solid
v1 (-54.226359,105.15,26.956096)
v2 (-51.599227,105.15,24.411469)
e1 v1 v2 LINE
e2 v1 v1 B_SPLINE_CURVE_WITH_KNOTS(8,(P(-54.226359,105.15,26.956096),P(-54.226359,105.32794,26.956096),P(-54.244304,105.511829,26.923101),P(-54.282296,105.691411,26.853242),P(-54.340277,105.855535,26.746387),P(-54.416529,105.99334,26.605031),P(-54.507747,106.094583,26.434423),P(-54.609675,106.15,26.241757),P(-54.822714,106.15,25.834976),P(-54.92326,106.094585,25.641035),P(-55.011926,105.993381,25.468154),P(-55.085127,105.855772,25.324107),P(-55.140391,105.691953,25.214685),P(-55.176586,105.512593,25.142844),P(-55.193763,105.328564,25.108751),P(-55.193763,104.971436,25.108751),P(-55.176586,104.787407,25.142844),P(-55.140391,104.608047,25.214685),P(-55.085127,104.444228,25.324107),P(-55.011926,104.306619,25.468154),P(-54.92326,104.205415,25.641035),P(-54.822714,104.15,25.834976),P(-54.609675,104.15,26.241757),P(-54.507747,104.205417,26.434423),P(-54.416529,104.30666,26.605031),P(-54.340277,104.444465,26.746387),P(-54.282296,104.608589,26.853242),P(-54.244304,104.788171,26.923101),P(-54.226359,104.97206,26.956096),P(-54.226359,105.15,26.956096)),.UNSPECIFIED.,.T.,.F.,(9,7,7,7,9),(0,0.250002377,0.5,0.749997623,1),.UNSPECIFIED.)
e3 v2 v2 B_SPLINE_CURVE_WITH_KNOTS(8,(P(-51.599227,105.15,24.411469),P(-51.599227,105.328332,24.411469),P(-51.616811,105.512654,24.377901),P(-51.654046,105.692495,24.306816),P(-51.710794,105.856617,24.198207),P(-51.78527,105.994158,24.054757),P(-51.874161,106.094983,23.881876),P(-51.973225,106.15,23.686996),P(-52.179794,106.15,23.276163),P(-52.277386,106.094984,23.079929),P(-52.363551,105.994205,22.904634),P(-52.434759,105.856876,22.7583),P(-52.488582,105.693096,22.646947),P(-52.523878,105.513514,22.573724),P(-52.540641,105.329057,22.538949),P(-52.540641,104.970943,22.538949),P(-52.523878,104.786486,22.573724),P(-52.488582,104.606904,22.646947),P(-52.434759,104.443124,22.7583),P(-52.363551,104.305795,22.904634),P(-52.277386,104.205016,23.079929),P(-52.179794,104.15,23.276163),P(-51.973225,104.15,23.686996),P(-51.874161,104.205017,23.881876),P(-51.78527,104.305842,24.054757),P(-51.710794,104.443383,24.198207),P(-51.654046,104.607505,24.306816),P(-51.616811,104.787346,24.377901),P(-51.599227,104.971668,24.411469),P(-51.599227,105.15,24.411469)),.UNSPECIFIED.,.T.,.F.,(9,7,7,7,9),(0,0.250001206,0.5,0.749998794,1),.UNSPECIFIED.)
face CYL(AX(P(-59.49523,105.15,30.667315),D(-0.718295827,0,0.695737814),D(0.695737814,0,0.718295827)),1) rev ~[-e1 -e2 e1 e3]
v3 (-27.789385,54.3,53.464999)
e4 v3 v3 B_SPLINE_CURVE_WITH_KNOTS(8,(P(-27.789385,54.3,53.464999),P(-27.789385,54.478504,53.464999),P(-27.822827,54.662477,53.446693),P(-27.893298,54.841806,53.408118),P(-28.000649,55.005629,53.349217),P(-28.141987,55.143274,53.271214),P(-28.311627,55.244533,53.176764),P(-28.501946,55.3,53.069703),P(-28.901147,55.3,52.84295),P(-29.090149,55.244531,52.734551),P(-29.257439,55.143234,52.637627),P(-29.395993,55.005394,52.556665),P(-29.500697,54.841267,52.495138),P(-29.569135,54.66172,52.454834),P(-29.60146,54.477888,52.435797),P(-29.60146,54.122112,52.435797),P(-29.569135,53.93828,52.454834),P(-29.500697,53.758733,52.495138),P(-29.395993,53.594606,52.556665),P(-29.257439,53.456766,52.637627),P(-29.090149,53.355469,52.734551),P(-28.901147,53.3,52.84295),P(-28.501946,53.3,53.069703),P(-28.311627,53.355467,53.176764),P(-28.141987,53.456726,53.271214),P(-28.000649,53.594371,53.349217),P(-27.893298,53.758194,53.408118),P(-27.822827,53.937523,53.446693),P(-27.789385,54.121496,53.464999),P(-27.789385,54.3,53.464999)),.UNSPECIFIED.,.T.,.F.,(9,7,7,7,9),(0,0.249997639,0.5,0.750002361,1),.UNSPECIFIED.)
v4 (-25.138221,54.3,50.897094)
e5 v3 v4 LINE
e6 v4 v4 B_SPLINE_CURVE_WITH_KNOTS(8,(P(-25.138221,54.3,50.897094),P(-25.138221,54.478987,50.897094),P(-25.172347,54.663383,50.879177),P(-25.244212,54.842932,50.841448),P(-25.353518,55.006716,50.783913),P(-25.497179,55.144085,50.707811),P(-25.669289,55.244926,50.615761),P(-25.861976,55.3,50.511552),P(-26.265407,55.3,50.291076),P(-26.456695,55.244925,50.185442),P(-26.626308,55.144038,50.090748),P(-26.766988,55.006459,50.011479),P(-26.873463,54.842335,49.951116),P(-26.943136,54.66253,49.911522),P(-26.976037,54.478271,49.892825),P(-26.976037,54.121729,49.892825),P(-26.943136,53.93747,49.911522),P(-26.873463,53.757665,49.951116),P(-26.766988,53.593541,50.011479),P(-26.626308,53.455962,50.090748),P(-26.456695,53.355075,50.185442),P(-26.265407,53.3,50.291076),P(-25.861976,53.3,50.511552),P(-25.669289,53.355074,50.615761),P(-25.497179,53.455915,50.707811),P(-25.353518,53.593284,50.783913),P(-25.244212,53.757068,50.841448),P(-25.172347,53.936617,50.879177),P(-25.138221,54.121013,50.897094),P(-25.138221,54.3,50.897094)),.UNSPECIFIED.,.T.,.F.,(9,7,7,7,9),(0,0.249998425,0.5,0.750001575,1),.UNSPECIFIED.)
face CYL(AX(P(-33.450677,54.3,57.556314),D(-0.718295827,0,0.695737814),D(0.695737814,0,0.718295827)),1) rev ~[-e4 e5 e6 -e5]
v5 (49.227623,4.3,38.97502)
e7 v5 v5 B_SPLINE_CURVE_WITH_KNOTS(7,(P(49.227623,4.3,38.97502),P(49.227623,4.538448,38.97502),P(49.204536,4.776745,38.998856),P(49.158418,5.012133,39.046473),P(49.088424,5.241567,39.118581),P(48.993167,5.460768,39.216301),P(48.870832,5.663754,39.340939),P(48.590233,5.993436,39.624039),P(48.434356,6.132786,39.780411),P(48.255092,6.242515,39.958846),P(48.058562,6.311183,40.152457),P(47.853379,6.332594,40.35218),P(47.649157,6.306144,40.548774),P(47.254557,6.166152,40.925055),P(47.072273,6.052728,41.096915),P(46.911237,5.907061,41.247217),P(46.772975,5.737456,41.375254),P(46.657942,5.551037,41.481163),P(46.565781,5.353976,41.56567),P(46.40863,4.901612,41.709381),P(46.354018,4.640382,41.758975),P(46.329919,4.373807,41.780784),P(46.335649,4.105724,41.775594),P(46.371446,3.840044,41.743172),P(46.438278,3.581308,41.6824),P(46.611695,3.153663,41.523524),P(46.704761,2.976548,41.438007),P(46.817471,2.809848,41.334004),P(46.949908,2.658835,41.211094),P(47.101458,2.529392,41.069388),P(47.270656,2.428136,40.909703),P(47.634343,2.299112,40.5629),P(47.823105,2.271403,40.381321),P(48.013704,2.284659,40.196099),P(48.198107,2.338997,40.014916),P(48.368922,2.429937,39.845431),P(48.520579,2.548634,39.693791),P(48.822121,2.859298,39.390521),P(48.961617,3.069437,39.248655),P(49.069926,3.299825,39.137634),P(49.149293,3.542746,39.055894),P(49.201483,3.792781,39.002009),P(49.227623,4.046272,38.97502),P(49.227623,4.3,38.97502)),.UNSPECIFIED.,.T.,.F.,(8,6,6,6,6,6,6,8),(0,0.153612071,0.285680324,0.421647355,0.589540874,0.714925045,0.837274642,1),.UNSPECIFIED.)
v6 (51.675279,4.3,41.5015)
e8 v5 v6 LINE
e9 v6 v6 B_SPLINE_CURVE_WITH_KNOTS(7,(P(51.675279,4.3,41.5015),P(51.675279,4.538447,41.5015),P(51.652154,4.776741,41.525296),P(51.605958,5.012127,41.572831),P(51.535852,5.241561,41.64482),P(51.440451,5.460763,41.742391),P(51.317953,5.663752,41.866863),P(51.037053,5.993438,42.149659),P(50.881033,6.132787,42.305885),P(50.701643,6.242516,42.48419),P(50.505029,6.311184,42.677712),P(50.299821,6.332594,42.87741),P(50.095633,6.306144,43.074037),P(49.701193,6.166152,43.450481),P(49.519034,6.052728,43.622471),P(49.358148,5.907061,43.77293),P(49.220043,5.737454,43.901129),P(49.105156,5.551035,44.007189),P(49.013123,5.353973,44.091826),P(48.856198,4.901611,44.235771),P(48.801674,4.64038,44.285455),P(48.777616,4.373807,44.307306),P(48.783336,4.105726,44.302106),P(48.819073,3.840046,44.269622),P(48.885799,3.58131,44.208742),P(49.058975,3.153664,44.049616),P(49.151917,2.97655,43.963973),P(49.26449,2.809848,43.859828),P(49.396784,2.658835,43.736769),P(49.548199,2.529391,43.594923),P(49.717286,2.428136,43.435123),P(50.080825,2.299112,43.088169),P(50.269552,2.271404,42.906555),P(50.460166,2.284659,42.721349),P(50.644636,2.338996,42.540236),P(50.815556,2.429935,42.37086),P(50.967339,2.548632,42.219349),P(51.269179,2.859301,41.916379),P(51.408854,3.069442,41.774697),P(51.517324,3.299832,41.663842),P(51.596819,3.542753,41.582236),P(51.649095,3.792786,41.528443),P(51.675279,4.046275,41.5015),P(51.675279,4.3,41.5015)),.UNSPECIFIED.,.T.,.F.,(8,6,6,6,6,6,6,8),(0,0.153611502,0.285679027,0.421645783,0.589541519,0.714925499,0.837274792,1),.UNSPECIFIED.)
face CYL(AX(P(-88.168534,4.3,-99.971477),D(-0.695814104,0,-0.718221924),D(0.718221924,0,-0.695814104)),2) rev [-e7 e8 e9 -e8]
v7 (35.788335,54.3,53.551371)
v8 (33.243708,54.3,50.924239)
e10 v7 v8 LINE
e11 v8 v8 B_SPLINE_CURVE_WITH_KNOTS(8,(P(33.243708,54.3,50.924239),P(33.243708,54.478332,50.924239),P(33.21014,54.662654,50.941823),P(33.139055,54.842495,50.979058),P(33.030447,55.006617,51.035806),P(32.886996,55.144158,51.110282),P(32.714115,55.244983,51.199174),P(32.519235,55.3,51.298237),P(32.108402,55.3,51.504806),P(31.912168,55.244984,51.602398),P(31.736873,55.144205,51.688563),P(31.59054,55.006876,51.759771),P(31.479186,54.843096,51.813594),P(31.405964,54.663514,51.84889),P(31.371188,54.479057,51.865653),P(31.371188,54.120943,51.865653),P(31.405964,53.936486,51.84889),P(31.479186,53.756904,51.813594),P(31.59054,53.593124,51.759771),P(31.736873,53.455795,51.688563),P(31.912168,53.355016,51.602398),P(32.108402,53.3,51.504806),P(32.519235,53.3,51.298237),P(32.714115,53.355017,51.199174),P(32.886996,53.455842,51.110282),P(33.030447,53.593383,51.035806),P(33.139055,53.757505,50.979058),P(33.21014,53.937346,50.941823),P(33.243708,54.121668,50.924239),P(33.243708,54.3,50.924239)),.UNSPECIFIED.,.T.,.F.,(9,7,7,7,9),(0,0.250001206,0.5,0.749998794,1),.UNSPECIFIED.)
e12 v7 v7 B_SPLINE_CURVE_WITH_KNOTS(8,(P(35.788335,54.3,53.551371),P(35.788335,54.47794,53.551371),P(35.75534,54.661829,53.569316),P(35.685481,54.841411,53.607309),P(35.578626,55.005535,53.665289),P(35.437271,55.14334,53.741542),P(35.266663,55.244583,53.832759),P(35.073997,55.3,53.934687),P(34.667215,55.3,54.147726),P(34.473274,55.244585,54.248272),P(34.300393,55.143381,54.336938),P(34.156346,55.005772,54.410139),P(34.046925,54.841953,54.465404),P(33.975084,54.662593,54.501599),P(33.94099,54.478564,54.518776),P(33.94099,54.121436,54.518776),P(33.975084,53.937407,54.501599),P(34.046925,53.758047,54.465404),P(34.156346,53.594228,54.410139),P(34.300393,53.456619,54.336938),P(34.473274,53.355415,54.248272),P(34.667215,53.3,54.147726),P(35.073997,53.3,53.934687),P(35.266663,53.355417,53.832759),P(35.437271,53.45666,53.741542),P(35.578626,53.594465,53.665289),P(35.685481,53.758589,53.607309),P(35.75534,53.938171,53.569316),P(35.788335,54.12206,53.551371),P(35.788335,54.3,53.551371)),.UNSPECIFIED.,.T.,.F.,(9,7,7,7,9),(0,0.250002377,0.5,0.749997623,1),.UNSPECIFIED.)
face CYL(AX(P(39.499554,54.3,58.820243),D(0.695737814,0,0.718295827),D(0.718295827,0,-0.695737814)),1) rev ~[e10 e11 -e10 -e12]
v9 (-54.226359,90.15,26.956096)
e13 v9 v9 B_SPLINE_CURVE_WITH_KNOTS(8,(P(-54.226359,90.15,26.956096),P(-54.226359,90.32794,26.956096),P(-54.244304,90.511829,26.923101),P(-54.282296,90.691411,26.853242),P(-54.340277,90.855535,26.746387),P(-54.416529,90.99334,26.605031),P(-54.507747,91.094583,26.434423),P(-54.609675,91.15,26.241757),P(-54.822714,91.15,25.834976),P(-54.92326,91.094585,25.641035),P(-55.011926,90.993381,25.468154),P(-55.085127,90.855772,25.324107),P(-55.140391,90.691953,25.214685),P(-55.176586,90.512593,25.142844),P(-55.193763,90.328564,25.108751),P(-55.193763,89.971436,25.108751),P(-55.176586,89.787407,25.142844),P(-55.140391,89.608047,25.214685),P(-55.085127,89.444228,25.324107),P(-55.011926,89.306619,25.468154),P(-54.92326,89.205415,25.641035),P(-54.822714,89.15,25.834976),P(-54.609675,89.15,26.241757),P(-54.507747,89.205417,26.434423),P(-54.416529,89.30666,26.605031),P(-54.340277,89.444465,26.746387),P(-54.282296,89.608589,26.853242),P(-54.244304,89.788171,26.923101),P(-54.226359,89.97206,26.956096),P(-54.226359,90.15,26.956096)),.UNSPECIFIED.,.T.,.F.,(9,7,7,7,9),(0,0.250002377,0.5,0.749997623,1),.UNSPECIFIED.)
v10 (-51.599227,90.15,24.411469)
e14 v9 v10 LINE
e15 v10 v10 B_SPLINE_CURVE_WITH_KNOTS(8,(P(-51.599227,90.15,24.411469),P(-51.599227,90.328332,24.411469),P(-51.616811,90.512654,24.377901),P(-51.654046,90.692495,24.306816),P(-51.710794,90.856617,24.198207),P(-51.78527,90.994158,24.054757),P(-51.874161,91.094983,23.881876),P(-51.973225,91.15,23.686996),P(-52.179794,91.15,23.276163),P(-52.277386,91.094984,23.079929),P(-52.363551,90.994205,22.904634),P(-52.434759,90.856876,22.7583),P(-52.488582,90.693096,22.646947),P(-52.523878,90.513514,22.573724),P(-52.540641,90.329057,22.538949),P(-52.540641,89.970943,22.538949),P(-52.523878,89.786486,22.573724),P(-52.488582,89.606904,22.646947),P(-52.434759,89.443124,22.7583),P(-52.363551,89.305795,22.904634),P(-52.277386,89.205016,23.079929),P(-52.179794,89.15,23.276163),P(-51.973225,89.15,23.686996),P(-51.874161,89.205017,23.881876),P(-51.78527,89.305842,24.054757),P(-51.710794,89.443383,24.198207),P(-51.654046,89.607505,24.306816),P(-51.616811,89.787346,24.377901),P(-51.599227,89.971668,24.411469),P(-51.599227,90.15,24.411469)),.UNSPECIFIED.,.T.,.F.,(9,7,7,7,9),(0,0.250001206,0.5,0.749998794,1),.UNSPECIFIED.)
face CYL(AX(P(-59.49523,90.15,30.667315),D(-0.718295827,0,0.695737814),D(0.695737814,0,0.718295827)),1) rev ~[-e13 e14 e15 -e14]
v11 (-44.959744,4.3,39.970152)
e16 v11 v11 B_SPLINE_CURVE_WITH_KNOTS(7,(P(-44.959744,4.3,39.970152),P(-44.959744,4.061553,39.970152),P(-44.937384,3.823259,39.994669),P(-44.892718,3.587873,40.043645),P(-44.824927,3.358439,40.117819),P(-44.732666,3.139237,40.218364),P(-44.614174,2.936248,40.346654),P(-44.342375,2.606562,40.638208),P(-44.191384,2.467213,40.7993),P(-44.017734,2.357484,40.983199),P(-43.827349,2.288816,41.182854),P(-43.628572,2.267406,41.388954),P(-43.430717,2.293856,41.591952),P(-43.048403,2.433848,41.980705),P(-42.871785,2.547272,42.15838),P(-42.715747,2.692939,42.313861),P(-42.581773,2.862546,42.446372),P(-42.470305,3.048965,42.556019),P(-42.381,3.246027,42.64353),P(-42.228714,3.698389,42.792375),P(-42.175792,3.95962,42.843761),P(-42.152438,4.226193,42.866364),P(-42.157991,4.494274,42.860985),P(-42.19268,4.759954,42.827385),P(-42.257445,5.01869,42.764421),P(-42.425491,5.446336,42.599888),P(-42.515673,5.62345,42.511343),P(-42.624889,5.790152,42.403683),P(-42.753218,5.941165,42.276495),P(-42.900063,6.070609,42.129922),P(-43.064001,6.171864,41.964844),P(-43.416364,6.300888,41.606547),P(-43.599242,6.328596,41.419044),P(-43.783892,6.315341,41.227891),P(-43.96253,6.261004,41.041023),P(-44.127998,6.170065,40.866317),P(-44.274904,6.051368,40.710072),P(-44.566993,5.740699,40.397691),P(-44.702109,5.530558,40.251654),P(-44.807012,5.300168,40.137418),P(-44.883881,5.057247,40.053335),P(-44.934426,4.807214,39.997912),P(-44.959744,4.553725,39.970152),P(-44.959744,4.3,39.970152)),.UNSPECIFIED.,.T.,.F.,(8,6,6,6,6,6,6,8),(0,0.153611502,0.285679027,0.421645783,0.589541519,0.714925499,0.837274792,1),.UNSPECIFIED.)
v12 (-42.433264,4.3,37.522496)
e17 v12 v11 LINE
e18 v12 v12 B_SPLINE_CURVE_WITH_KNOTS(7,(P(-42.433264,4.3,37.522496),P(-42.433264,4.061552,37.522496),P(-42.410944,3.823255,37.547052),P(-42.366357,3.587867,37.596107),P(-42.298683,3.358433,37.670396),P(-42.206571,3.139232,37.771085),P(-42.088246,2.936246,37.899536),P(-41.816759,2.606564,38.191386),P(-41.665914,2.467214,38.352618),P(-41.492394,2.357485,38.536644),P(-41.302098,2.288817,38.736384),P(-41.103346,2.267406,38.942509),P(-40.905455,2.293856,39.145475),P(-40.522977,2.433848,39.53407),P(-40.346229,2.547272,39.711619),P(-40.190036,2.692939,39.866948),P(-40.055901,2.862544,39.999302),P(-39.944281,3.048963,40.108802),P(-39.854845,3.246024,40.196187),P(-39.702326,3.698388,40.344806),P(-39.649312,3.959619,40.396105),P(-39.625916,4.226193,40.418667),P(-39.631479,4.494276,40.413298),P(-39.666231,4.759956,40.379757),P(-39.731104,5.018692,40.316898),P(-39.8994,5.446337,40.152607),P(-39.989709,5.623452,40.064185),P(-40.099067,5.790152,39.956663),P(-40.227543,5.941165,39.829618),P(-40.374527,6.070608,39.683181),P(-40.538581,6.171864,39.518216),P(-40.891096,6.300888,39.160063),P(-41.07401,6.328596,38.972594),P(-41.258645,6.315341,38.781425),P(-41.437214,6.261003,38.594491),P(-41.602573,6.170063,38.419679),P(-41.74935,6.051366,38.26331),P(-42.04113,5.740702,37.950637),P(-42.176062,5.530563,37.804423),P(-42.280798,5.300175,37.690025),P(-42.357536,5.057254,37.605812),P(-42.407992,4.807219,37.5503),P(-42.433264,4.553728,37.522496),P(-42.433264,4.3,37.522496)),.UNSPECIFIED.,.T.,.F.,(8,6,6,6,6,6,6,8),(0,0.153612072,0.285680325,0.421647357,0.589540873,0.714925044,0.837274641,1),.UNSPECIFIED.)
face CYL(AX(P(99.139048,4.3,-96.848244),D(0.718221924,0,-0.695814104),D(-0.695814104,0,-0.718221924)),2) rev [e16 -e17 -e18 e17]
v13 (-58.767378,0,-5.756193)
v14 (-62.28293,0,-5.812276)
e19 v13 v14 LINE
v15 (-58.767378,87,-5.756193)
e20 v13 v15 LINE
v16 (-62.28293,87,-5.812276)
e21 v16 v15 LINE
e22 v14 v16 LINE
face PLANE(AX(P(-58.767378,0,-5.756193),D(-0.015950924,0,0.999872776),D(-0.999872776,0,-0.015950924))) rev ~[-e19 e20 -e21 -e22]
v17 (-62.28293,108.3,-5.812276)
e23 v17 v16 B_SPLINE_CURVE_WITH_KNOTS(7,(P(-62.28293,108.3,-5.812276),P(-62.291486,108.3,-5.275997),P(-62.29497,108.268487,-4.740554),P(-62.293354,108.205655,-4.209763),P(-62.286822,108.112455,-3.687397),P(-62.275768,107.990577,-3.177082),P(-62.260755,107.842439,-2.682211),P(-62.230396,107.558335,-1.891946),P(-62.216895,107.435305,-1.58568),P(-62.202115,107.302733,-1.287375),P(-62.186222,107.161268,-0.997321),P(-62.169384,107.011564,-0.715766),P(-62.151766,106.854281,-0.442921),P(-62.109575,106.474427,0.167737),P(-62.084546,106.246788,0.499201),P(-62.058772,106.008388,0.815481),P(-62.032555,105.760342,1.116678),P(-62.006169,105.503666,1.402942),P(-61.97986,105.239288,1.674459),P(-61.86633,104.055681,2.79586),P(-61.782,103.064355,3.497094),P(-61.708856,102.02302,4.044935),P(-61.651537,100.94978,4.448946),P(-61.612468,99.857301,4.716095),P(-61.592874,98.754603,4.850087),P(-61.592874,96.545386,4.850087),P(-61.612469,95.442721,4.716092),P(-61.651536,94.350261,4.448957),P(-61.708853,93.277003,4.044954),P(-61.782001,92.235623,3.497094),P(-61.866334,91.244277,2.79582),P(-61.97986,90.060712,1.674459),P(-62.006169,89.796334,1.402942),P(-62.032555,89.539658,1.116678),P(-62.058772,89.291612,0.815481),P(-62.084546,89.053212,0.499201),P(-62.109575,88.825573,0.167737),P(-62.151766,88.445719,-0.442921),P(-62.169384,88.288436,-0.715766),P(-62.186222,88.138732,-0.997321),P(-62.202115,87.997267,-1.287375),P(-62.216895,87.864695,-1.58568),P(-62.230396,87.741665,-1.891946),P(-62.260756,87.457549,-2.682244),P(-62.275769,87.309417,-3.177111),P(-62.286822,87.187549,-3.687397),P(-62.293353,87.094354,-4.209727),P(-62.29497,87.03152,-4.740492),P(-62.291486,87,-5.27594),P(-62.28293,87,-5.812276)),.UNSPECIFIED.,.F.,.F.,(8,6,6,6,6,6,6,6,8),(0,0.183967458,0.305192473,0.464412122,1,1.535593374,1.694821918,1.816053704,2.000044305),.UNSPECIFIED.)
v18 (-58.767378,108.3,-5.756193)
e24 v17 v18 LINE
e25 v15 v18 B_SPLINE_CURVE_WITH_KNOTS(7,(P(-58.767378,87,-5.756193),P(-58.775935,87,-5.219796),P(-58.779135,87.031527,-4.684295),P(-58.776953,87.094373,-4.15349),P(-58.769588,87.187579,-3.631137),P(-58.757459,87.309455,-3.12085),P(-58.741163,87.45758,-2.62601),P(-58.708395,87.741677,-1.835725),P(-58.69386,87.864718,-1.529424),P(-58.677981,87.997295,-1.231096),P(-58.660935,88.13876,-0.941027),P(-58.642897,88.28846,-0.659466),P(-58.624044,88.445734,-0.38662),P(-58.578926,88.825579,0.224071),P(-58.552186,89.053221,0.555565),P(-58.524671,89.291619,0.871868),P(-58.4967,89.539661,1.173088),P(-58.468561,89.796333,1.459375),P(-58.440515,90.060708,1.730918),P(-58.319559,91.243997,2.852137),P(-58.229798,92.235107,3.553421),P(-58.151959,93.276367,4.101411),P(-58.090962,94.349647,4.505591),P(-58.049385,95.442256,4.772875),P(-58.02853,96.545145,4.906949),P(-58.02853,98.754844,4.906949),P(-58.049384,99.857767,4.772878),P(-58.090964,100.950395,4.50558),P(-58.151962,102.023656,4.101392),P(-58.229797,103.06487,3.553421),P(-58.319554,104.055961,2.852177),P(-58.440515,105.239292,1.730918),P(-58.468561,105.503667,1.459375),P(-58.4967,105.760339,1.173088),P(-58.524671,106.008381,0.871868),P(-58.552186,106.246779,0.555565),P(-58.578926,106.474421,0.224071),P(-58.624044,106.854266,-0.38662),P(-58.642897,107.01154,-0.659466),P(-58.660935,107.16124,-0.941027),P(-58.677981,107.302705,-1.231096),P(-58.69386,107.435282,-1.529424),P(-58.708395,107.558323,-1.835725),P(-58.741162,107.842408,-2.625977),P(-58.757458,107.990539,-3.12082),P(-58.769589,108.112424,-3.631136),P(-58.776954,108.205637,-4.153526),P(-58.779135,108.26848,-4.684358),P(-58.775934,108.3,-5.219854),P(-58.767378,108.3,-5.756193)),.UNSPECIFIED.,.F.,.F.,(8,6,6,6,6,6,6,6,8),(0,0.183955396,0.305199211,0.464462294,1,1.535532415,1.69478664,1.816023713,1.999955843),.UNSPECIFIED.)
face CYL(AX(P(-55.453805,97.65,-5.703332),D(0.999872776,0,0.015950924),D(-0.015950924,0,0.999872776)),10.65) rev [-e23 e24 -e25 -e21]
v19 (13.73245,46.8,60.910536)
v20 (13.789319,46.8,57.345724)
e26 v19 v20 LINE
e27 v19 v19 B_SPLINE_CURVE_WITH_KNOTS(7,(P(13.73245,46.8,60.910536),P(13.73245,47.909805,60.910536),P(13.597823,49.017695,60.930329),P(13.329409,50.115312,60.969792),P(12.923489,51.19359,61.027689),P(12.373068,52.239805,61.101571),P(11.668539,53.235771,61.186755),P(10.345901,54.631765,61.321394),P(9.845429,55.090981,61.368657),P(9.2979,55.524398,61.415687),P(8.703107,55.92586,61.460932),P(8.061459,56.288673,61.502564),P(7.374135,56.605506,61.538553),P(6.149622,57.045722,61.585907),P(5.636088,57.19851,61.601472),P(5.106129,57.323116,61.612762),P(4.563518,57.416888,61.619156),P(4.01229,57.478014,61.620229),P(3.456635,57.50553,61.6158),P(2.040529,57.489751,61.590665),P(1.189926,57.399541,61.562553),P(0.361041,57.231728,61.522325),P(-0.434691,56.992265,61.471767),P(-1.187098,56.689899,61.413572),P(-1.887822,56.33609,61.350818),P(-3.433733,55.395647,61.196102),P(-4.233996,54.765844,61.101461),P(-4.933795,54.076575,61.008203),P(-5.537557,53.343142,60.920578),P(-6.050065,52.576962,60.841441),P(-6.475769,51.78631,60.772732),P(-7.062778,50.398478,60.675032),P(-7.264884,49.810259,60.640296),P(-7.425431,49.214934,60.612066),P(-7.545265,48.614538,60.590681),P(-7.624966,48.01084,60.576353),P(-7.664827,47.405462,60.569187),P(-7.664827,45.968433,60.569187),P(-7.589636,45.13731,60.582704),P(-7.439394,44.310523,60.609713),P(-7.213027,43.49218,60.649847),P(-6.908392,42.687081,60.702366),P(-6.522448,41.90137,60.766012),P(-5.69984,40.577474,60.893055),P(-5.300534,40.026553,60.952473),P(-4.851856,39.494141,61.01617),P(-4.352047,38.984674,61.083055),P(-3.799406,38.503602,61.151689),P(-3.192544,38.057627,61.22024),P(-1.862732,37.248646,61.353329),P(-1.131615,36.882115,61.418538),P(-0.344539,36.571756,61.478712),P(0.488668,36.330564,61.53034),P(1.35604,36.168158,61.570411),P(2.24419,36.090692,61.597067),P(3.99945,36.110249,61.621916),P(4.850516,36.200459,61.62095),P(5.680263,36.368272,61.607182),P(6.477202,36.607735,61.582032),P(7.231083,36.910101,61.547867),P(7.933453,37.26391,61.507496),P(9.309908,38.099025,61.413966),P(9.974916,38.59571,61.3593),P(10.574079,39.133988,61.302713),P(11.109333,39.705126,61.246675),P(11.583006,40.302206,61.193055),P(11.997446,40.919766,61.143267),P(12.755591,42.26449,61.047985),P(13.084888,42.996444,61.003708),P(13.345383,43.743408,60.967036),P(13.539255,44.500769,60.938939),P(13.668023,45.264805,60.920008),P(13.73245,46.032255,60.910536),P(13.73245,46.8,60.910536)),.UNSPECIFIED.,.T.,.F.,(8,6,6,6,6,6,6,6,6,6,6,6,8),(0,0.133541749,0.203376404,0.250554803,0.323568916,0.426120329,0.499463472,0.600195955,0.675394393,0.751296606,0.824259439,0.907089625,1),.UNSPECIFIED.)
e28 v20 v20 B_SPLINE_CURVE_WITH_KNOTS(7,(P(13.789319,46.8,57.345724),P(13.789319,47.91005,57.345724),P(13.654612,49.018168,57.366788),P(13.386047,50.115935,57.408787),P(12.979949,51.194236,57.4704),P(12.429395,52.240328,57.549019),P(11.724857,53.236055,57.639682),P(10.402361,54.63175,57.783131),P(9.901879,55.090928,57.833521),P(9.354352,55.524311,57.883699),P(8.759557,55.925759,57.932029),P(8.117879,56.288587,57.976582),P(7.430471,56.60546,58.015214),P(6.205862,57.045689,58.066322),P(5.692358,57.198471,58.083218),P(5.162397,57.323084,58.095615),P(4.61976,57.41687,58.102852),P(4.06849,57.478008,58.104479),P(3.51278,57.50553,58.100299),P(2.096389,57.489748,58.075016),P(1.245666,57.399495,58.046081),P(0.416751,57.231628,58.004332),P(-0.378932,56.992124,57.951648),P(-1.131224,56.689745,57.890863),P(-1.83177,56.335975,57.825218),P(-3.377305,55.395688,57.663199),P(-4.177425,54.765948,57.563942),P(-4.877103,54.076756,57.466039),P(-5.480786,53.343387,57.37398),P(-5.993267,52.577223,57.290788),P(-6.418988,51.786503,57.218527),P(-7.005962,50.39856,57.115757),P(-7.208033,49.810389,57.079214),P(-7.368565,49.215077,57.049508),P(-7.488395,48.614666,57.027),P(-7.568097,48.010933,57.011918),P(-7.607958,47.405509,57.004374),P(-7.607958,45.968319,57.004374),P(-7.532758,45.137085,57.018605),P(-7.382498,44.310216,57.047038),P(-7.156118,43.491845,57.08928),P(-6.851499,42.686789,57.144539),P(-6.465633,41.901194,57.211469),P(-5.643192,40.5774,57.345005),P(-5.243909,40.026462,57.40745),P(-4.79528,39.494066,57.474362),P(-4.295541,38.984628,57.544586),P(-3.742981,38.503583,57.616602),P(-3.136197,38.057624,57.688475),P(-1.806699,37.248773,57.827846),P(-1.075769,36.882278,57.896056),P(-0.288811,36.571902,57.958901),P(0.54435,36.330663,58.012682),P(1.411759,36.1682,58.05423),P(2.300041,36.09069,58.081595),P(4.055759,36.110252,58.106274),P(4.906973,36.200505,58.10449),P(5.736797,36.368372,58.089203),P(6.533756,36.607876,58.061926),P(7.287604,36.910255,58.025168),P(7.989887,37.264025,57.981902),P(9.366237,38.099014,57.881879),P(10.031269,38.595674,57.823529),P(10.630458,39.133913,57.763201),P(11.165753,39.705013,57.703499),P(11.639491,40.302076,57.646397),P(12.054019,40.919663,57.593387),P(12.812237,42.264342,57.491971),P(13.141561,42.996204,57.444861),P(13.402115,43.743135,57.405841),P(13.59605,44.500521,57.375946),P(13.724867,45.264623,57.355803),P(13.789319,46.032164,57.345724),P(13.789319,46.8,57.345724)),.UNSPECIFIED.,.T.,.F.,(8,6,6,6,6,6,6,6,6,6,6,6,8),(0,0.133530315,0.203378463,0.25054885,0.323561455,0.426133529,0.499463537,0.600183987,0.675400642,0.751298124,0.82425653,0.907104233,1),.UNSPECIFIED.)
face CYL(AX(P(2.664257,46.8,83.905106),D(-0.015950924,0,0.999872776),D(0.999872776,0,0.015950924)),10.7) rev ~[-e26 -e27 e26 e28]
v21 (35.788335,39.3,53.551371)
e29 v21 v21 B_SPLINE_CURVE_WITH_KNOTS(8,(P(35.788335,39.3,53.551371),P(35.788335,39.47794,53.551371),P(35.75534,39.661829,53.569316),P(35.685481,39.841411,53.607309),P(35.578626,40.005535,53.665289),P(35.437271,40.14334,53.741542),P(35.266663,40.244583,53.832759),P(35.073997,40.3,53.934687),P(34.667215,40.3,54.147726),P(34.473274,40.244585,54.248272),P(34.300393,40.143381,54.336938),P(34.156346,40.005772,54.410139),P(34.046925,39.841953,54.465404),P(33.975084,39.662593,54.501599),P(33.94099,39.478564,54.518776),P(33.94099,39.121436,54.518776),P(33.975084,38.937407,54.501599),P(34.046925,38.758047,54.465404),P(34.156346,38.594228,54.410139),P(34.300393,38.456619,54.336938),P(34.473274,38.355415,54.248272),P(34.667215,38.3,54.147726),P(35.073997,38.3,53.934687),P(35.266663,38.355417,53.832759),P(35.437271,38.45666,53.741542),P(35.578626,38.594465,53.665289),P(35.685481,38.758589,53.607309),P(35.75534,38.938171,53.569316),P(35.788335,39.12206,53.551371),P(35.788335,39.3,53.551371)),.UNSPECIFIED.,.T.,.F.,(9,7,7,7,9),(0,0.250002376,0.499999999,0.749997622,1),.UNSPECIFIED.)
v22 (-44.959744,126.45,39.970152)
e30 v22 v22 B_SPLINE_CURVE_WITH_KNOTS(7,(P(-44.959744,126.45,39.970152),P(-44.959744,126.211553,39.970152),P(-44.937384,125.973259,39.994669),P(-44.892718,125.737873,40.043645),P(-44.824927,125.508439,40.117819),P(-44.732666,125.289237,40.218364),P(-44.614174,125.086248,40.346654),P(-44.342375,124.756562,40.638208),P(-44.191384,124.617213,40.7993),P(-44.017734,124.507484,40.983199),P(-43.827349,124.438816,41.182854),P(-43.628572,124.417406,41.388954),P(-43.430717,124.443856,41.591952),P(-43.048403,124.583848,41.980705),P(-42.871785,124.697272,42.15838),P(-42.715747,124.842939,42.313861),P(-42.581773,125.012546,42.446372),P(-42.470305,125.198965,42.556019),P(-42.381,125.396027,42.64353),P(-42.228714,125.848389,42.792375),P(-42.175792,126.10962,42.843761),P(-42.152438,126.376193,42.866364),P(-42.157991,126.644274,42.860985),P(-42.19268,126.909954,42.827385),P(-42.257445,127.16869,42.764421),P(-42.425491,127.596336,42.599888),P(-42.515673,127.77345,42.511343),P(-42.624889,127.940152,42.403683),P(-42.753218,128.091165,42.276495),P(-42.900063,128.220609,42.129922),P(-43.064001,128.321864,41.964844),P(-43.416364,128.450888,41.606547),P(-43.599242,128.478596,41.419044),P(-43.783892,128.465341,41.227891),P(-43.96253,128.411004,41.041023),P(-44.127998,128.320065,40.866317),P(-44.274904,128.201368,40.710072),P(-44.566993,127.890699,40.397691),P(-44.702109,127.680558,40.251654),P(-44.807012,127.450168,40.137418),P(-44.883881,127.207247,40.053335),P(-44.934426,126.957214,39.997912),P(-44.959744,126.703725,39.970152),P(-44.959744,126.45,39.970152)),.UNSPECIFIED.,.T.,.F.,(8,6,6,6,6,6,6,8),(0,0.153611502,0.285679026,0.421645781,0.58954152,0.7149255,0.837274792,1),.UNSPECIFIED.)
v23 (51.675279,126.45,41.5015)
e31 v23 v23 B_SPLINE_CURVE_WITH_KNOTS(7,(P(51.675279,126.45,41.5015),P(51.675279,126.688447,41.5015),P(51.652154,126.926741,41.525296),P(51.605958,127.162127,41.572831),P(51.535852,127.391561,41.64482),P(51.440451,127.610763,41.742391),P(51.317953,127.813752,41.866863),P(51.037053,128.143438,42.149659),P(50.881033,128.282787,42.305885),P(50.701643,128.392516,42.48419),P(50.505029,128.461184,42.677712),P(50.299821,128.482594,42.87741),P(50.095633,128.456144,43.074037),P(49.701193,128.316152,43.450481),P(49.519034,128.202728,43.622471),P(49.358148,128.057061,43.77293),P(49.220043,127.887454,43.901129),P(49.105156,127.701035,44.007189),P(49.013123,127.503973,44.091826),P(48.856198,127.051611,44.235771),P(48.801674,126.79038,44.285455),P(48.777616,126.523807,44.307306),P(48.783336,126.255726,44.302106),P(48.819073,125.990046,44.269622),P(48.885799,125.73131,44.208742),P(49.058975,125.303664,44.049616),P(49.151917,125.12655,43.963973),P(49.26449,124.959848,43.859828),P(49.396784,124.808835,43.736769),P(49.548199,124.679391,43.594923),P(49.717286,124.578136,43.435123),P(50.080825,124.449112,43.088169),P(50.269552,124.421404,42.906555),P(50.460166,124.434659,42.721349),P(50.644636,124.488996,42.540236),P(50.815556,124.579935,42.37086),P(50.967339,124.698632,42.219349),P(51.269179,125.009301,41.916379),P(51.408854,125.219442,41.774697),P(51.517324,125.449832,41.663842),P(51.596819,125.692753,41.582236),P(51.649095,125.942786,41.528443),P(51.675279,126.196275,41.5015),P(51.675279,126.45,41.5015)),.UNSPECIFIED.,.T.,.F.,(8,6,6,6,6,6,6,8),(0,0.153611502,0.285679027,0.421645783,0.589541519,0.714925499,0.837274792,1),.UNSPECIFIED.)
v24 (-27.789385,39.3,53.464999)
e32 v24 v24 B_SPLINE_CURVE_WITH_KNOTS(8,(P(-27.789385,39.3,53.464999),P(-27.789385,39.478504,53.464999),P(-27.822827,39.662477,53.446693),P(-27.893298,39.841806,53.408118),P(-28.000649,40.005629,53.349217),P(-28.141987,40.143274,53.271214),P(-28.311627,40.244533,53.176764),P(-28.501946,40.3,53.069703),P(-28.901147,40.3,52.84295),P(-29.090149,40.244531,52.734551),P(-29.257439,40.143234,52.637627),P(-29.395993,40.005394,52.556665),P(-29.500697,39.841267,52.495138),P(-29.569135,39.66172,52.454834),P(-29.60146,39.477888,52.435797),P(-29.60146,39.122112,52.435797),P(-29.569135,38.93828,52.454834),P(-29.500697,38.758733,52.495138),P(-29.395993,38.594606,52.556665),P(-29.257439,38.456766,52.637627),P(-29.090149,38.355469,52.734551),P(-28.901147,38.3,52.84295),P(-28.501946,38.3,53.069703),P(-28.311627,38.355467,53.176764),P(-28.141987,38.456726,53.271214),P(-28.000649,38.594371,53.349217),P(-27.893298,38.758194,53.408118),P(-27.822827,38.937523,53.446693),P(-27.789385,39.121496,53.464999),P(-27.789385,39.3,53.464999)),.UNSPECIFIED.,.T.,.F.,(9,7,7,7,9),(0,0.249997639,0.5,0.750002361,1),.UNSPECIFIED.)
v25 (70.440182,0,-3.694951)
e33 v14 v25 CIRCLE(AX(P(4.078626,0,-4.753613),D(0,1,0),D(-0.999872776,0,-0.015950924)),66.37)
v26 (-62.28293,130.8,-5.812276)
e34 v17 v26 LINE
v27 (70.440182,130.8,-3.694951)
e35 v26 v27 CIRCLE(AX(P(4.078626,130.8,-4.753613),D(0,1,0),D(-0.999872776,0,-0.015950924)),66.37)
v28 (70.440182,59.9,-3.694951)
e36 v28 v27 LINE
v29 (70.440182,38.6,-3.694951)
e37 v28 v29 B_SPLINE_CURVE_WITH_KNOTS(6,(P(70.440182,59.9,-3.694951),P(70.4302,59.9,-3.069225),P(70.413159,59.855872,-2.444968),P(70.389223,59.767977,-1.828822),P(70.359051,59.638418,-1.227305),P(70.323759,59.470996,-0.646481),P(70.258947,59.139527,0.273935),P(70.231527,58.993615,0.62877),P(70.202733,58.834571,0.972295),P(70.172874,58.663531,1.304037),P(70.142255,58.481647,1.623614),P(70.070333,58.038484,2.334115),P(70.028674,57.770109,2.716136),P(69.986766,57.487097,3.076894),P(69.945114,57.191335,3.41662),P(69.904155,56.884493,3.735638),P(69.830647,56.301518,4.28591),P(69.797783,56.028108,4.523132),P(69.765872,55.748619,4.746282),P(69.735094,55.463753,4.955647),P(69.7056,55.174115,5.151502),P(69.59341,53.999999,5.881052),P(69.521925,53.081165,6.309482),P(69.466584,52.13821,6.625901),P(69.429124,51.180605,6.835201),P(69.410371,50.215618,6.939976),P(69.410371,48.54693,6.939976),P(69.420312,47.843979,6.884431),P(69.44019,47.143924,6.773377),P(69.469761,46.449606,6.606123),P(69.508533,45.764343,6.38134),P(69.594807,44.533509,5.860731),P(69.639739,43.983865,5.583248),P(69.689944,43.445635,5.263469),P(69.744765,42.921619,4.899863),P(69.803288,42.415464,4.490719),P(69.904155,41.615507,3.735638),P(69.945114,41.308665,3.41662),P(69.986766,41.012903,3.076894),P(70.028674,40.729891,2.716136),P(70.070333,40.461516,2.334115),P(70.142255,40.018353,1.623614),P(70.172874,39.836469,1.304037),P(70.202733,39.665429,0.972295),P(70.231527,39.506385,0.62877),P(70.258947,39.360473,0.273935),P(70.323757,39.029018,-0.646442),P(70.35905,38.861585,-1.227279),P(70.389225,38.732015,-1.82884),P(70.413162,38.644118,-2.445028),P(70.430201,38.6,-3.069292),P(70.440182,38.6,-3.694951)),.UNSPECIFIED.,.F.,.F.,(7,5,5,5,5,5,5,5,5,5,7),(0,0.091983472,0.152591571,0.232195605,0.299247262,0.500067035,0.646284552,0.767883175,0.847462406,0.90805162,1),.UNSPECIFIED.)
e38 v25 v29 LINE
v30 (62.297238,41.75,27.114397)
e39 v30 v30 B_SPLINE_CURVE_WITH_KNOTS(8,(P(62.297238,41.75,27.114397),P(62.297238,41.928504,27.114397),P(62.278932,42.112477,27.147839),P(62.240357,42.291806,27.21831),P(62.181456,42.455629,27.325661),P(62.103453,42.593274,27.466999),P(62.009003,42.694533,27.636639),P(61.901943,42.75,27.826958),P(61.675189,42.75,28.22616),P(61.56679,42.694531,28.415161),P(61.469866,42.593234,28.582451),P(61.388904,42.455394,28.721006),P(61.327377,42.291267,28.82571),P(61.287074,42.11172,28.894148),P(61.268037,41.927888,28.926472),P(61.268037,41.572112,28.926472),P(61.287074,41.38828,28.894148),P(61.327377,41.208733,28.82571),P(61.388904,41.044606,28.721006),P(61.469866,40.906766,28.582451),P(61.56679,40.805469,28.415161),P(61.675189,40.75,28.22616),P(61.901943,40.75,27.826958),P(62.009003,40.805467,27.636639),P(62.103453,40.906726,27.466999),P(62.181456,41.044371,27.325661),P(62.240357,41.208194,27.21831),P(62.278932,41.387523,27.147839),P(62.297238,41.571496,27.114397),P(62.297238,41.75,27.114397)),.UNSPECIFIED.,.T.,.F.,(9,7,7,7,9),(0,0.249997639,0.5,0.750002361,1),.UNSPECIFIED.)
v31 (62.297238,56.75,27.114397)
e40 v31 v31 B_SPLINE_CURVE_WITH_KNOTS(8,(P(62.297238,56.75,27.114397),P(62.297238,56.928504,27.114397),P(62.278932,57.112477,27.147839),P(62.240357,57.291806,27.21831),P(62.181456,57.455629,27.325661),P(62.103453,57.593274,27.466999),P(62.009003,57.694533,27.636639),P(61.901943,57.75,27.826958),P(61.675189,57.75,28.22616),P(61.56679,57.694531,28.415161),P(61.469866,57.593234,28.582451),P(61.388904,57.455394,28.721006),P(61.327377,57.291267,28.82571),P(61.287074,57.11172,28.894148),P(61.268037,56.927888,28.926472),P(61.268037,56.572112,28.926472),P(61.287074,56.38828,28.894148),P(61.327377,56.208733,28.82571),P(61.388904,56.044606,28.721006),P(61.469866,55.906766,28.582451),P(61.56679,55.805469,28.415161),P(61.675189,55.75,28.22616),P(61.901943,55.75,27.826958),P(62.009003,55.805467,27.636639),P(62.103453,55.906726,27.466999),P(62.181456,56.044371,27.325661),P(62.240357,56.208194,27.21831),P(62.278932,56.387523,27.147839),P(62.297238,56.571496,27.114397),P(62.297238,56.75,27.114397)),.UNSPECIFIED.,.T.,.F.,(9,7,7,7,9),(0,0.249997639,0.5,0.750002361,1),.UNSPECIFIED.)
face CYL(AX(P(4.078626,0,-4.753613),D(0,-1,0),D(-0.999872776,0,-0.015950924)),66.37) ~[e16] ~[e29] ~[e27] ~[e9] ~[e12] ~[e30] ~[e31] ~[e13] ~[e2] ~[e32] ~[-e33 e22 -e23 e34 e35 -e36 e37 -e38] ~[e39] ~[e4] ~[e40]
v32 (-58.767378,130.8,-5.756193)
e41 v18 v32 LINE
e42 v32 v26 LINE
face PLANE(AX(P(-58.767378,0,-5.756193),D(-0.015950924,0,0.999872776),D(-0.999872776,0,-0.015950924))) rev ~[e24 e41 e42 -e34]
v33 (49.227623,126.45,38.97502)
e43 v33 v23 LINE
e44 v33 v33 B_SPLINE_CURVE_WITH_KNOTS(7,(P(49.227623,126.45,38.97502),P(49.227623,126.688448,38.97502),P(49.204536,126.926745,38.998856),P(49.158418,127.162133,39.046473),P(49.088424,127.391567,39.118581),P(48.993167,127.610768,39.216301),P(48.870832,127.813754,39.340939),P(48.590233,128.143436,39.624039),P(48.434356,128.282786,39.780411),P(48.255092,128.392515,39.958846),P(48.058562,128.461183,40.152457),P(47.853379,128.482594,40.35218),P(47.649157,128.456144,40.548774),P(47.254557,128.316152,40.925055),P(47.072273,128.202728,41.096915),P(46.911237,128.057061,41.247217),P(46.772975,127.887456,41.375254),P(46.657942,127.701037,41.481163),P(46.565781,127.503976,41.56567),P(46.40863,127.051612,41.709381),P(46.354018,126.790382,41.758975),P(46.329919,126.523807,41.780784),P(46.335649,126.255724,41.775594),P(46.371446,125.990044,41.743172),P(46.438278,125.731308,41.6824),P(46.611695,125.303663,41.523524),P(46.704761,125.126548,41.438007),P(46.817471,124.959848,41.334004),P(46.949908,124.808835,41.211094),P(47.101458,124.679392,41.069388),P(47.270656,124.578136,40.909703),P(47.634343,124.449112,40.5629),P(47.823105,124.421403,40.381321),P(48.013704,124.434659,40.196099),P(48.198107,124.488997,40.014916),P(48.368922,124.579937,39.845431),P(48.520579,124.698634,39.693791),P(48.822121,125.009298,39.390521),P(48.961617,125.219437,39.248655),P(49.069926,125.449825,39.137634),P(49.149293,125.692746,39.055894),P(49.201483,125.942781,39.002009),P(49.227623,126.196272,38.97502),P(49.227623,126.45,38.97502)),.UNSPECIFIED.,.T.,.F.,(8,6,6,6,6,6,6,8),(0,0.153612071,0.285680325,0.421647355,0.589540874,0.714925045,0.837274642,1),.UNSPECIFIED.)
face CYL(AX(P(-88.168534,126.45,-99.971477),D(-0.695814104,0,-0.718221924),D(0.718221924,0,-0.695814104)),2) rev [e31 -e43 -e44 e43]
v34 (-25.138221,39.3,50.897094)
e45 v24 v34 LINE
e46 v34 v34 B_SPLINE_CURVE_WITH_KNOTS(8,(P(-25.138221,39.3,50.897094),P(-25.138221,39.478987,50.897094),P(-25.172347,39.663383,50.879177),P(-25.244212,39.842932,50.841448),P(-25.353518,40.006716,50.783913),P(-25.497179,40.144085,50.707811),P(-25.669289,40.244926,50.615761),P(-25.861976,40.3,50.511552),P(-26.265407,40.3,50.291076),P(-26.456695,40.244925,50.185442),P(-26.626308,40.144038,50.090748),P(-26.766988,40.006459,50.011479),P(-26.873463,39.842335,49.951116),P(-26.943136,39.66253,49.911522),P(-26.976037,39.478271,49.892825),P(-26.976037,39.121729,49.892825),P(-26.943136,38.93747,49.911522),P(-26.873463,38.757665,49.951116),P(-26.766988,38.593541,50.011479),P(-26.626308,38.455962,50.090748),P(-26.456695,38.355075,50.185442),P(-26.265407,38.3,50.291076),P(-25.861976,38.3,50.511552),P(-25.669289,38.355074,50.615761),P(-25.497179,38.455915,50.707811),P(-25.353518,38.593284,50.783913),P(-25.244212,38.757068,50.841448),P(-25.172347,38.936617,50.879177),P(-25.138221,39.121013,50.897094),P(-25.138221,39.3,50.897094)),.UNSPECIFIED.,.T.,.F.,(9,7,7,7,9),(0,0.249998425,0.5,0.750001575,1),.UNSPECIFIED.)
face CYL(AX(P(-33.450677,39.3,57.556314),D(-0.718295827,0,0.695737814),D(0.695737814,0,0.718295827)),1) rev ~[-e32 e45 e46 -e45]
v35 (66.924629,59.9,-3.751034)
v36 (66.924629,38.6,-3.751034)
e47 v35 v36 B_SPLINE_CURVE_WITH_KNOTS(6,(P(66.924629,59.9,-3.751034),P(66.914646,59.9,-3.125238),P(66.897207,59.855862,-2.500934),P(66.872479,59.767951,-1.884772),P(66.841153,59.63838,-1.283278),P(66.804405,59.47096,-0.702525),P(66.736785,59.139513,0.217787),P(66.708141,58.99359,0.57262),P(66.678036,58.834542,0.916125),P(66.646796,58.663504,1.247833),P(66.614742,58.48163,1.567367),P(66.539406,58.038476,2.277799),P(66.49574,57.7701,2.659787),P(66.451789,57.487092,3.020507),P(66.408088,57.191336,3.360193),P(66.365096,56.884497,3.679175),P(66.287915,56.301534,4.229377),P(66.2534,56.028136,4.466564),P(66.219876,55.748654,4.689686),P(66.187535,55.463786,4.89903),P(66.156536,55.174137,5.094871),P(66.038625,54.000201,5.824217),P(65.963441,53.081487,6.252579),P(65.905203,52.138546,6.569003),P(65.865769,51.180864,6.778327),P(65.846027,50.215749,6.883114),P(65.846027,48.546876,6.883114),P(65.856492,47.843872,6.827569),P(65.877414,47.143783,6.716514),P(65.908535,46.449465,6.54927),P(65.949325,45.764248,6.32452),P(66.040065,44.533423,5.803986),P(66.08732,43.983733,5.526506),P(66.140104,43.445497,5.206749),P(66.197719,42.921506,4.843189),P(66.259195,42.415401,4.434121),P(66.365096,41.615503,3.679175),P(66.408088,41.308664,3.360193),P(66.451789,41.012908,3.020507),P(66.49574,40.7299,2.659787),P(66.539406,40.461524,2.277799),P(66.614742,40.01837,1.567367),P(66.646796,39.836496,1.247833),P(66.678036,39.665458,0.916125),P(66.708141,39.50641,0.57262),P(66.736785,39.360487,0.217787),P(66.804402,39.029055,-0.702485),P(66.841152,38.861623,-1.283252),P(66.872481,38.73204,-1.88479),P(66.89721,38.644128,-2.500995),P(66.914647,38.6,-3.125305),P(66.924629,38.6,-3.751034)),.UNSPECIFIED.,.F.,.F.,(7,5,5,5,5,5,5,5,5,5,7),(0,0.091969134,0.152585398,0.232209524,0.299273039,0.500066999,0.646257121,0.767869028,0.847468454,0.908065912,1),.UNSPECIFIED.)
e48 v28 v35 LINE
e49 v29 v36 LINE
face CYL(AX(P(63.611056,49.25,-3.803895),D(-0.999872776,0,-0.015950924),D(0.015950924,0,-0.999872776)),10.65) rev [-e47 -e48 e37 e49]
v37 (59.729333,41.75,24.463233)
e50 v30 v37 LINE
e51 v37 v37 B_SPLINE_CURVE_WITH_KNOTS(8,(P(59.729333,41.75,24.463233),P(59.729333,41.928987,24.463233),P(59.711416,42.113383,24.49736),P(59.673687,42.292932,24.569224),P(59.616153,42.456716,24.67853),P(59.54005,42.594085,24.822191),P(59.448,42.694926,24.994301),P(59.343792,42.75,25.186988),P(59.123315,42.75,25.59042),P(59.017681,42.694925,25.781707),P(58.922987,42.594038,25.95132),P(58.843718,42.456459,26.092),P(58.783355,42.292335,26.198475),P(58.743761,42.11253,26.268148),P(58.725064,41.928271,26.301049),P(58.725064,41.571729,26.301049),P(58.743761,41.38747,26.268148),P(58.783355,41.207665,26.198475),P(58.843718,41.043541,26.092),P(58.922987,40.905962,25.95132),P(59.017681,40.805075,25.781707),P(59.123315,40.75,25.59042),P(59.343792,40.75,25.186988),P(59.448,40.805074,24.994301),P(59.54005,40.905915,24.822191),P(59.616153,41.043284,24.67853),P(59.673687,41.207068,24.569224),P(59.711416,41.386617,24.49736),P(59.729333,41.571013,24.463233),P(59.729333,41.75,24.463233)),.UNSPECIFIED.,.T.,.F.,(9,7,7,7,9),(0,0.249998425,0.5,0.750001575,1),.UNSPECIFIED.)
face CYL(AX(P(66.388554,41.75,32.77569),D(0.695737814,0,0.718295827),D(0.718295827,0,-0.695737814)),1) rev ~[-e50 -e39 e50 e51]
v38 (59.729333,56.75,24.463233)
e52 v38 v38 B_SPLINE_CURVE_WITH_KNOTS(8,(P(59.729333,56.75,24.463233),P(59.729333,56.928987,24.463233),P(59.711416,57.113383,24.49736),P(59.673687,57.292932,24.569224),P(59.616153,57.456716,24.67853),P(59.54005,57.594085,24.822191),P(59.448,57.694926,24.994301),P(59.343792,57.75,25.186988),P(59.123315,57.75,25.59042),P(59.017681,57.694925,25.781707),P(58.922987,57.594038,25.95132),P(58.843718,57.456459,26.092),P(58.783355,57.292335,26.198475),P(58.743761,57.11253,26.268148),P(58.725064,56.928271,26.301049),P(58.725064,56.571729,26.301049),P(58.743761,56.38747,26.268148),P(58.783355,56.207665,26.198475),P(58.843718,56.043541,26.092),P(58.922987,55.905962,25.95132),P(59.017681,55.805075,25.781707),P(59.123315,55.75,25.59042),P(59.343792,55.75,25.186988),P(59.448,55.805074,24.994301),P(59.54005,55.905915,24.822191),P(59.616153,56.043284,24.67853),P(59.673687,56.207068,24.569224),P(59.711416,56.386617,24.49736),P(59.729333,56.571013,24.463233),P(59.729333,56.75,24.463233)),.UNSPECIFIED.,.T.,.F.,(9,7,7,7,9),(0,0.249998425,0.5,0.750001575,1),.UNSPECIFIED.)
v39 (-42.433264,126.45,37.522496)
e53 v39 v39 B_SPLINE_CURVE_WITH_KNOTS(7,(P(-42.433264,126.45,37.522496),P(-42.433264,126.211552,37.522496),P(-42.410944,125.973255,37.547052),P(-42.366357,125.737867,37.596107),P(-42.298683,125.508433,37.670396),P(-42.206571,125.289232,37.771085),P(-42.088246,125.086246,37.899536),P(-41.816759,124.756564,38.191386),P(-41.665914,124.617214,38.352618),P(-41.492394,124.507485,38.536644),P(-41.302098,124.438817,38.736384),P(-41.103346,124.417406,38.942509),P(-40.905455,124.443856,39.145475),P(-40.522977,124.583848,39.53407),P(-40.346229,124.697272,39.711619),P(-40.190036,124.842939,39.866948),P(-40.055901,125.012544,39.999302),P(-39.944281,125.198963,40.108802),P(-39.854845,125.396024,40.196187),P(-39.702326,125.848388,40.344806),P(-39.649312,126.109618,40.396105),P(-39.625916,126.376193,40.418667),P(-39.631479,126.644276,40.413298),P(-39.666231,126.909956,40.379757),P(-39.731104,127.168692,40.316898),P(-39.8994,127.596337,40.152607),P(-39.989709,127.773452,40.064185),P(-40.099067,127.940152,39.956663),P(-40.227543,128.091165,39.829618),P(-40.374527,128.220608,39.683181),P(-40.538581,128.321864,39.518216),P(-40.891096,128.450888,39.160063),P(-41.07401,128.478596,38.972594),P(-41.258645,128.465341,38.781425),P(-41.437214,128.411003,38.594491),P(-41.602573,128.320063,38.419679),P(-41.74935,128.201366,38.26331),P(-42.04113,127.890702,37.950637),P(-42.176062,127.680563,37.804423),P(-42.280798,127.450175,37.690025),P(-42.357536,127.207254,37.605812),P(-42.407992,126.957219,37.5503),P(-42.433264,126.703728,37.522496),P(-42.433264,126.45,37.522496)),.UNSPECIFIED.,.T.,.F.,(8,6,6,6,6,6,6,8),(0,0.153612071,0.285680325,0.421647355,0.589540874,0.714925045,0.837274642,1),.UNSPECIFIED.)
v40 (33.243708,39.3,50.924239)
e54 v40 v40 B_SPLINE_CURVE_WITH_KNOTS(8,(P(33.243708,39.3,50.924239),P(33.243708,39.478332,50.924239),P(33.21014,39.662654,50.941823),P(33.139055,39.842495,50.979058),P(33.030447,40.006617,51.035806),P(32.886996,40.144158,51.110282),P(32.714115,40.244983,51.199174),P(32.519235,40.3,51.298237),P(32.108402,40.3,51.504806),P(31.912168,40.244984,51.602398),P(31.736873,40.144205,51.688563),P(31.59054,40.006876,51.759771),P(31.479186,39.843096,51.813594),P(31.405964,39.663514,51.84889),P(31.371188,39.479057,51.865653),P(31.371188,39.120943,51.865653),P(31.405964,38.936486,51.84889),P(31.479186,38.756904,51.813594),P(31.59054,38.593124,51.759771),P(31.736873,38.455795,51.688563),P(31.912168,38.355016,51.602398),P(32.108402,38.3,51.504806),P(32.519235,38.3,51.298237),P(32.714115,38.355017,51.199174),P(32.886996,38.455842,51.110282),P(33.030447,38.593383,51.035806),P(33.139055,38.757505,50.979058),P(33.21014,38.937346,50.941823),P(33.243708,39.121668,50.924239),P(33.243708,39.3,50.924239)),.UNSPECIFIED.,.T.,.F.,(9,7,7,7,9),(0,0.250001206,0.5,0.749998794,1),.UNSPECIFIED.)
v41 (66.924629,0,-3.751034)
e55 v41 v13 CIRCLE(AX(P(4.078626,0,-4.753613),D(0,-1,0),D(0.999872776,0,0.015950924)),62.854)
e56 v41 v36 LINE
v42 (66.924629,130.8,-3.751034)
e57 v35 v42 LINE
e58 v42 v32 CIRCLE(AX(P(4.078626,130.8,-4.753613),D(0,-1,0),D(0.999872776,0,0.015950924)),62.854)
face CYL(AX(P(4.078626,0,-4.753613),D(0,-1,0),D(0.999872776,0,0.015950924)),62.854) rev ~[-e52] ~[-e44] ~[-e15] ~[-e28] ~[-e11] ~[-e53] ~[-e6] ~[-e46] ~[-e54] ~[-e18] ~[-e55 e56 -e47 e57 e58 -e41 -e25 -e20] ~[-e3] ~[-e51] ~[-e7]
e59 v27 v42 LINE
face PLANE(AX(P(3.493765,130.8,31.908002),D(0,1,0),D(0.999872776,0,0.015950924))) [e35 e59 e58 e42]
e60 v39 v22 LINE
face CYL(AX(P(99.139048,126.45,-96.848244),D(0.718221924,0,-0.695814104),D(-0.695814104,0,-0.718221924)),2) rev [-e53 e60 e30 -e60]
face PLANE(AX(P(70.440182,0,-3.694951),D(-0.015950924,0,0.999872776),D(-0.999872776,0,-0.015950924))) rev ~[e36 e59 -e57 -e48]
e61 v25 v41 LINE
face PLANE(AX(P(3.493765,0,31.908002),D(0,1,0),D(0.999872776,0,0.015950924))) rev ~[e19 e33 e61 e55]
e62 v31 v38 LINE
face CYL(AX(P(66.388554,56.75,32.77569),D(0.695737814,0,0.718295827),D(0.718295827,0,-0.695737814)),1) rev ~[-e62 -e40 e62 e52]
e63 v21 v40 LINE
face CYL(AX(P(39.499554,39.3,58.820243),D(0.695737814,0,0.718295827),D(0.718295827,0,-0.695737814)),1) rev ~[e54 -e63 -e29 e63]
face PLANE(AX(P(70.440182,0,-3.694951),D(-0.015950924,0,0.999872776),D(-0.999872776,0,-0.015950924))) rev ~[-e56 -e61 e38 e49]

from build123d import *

# Parameters (mm, degrees)
BOSS_EXTRUDE1_DEPTH      = 130.8
SKETCH5_R                = 10.65
CUT_EXTRUDE4_DEPTH       = 129.8
SKETCH6_R                = 10.65
CUT_EXTRUDE5_DEPTH       = 129.8
SKETCH57_R               = 10.7
CUT_EXTRUDE48_DEPTH      = 148.089829044
CUT_EXTRUDE51_DEPTH      = 132.35522197
CUT_EXTRUDE51_DEPTH_BACK = 132.35522197
SKETCH60_R               = 2
CUT_EXTRUDE52_DEPTH      = 132.574432074
CUT_EXTRUDE52_DEPTH_BACK = 132.574432074
SKETCH61_R               = 2.000000001
SKETCH63_R               = 1
CUT_EXTRUDE53_DEPTH      = 155.429604817
SKETCH64_R               = 1
CUT_EXTRUDE54_DEPTH      = 157.678735431
SKETCH65_R               = 1
CUT_EXTRUDE55_DEPTH      = 157.678735431
SKETCH66_R               = 1
CUT_EXTRUDE56_DEPTH      = 155.429604817


with BuildPart() as part:
    # Sketch1 → Boss-Extrude1 (new body)
    with BuildSketch(Plane(origin=(0, 0, 0), x_dir=(0.999872775920664, 0, 0.01595092388251422), z_dir=(0, 1, 0))):
        with BuildLine():
            Line((70.372282363, 4.818066557), (66.856282363, 4.818066557))
            ThreePointArc((66.856282363, 4.818066557), (4.002282363, -58.035933443), (-58.851717637, 4.818066557))
            Line((-58.851717637, 4.818066557), (-62.367717637, 4.818066557))
            ThreePointArc((-62.367717637, 4.818066557), (4.002282363, -61.551933443), (70.372282363, 4.818066557))
        make_face()
    extrude(amount=BOSS_EXTRUDE1_DEPTH)

    # Sketch5 → Cut-Extrude4 (cut)
    with BuildSketch(Plane(origin=(63.687908888, 47.899932993, -8.621348971), x_dir=(0.015950923882504298, 0, -0.9998727759206641), z_dir=(0.9998727759206643, 0, 0.015950923882504298))):
        with Locations((-4.818066557, 1.350067007)):
            Circle(SKETCH5_R)
    extrude(amount=CUT_EXTRUDE4_DEPTH, mode=Mode.SUBTRACT)

    # Sketch6 → Cut-Extrude5 (cut)
    with BuildSketch(Plane(origin=(-55.376952084, 47.899932993, -10.520785159), x_dir=(-0.01595092388248271, 0, 0.9998727759206645), z_dir=(-0.9998727759206645, 0, -0.01595092388248271))):
        with Locations((4.818066557, 49.750067007)):
            Circle(SKETCH6_R)
    extrude(amount=CUT_EXTRUDE5_DEPTH, mode=Mode.SUBTRACT)

    # Sketch57 → Cut-Extrude48 (cut, through all)
    with BuildSketch(Plane(origin=(-1.337515808, 38.899932993, 83.841265458), x_dir=(0.999872775920664, 0, 0.015950923882512152), z_dir=(-0.015950923882512152, 0, 0.999872775920664))):
        with Locations((4.002282363, 7.900067007)):
            Circle(SKETCH57_R)
    extrude(amount=-CUT_EXTRUDE48_DEPTH, mode=Mode.SUBTRACT)

    # Sketch60 → Cut-Extrude51 (cut, two sides: drawn at the far end of the back side and taken through both)
    with BuildSketch(Plane(origin=(4.479542792, 38.899932993, -4.33978545), x_dir=(0.6958141043149662, 0, 0.7182219240850013), z_dir=(-0.7182219240850013, 0, 0.6958141043149662)).offset(-CUT_EXTRUDE51_DEPTH_BACK)):
        with Locations((-0.576184071, 87.550067007)):
            Circle(SKETCH60_R)
        with Locations((-0.576184071, -34.599932993)):
            Circle(SKETCH60_R)
    extrude(amount=CUT_EXTRUDE51_DEPTH + CUT_EXTRUDE51_DEPTH_BACK, mode=Mode.SUBTRACT)

    # Sketch61 → Cut-Extrude52 (cut, two sides: drawn at the far end of the back side and taken through both)
    with BuildSketch(Plane(origin=(-0.400917003, 38.899932993, -0.413828032), x_dir=(0.7182219240850013, 0, -0.6958141043149662), z_dir=(0.6958141043149662, 0, 0.7182219240850013)).offset(-CUT_EXTRUDE52_DEPTH_BACK)):
        with Locations((6.236989769, 87.550067007)):
            Circle(SKETCH61_R)
        with Locations((6.236989769, -34.599932997)):
            Circle(SKETCH61_R)
    extrude(amount=CUT_EXTRUDE52_DEPTH + CUT_EXTRUDE52_DEPTH_BACK, mode=Mode.SUBTRACT)

    # Sketch63 → Cut-Extrude53 (cut, through all)
    with BuildSketch(Plane(origin=(48.51495843, 38.899932993, 50.087966302), x_dir=(0.718295826620825, 0, -0.6957378137338129), z_dir=(0.6957378137338129, 0, 0.718295826620825))):
        with Locations((-12.551102324, 15.400067007)):
            Circle(SKETCH63_R)
        with Locations((-12.551102324, 0.400067007)):
            Circle(SKETCH63_R)
    extrude(amount=-CUT_EXTRUDE53_DEPTH, mode=Mode.SUBTRACT)

    # Sketch64 → Cut-Extrude54 (cut, through all)
    with BuildSketch(Plane(origin=(-46.022353024, 38.899932993, 44.577025355), x_dir=(0.6957378137337953, 0, 0.7182958266208421), z_dir=(-0.7182958266208421, 0, 0.6957378137337953))):
        with Locations((18.069559284, 15.400067007)):
            Circle(SKETCH64_R)
        with Locations((18.069559284, 0.400067007)):
            Circle(SKETCH64_R)
    extrude(amount=-CUT_EXTRUDE54_DEPTH, mode=Mode.SUBTRACT)

    # Sketch65 → Cut-Extrude55 (cut, through all)
    with BuildSketch(Plane(origin=(-46.022353024, 38.899932993, 44.577025355), x_dir=(0.6957378137338341, 0, 0.7182958266208045), z_dir=(-0.7182958266208045, 0, 0.6957378137338341))):
        with Locations((-19.364877393, 66.250067007)):
            Circle(SKETCH65_R)
        with Locations((-19.364877393, 51.250067007)):
            Circle(SKETCH65_R)
    extrude(amount=-CUT_EXTRUDE55_DEPTH, mode=Mode.SUBTRACT)

    # Sketch66 → Cut-Extrude56 (cut, through all)
    with BuildSketch(Plane(origin=(48.51495843, 38.899932993, 50.087966302), x_dir=(0.7182958266208437, 0, -0.6957378137337936), z_dir=(0.6957378137337936, 0, 0.7182958266208437))):
        with Locations((24.883334353, 17.850067007)):
            Circle(SKETCH66_R)
        with Locations((24.883334353, 2.850067007)):
            Circle(SKETCH66_R)
    extrude(amount=-CUT_EXTRUDE56_DEPTH, mode=Mode.SUBTRACT)


solid = part.part
